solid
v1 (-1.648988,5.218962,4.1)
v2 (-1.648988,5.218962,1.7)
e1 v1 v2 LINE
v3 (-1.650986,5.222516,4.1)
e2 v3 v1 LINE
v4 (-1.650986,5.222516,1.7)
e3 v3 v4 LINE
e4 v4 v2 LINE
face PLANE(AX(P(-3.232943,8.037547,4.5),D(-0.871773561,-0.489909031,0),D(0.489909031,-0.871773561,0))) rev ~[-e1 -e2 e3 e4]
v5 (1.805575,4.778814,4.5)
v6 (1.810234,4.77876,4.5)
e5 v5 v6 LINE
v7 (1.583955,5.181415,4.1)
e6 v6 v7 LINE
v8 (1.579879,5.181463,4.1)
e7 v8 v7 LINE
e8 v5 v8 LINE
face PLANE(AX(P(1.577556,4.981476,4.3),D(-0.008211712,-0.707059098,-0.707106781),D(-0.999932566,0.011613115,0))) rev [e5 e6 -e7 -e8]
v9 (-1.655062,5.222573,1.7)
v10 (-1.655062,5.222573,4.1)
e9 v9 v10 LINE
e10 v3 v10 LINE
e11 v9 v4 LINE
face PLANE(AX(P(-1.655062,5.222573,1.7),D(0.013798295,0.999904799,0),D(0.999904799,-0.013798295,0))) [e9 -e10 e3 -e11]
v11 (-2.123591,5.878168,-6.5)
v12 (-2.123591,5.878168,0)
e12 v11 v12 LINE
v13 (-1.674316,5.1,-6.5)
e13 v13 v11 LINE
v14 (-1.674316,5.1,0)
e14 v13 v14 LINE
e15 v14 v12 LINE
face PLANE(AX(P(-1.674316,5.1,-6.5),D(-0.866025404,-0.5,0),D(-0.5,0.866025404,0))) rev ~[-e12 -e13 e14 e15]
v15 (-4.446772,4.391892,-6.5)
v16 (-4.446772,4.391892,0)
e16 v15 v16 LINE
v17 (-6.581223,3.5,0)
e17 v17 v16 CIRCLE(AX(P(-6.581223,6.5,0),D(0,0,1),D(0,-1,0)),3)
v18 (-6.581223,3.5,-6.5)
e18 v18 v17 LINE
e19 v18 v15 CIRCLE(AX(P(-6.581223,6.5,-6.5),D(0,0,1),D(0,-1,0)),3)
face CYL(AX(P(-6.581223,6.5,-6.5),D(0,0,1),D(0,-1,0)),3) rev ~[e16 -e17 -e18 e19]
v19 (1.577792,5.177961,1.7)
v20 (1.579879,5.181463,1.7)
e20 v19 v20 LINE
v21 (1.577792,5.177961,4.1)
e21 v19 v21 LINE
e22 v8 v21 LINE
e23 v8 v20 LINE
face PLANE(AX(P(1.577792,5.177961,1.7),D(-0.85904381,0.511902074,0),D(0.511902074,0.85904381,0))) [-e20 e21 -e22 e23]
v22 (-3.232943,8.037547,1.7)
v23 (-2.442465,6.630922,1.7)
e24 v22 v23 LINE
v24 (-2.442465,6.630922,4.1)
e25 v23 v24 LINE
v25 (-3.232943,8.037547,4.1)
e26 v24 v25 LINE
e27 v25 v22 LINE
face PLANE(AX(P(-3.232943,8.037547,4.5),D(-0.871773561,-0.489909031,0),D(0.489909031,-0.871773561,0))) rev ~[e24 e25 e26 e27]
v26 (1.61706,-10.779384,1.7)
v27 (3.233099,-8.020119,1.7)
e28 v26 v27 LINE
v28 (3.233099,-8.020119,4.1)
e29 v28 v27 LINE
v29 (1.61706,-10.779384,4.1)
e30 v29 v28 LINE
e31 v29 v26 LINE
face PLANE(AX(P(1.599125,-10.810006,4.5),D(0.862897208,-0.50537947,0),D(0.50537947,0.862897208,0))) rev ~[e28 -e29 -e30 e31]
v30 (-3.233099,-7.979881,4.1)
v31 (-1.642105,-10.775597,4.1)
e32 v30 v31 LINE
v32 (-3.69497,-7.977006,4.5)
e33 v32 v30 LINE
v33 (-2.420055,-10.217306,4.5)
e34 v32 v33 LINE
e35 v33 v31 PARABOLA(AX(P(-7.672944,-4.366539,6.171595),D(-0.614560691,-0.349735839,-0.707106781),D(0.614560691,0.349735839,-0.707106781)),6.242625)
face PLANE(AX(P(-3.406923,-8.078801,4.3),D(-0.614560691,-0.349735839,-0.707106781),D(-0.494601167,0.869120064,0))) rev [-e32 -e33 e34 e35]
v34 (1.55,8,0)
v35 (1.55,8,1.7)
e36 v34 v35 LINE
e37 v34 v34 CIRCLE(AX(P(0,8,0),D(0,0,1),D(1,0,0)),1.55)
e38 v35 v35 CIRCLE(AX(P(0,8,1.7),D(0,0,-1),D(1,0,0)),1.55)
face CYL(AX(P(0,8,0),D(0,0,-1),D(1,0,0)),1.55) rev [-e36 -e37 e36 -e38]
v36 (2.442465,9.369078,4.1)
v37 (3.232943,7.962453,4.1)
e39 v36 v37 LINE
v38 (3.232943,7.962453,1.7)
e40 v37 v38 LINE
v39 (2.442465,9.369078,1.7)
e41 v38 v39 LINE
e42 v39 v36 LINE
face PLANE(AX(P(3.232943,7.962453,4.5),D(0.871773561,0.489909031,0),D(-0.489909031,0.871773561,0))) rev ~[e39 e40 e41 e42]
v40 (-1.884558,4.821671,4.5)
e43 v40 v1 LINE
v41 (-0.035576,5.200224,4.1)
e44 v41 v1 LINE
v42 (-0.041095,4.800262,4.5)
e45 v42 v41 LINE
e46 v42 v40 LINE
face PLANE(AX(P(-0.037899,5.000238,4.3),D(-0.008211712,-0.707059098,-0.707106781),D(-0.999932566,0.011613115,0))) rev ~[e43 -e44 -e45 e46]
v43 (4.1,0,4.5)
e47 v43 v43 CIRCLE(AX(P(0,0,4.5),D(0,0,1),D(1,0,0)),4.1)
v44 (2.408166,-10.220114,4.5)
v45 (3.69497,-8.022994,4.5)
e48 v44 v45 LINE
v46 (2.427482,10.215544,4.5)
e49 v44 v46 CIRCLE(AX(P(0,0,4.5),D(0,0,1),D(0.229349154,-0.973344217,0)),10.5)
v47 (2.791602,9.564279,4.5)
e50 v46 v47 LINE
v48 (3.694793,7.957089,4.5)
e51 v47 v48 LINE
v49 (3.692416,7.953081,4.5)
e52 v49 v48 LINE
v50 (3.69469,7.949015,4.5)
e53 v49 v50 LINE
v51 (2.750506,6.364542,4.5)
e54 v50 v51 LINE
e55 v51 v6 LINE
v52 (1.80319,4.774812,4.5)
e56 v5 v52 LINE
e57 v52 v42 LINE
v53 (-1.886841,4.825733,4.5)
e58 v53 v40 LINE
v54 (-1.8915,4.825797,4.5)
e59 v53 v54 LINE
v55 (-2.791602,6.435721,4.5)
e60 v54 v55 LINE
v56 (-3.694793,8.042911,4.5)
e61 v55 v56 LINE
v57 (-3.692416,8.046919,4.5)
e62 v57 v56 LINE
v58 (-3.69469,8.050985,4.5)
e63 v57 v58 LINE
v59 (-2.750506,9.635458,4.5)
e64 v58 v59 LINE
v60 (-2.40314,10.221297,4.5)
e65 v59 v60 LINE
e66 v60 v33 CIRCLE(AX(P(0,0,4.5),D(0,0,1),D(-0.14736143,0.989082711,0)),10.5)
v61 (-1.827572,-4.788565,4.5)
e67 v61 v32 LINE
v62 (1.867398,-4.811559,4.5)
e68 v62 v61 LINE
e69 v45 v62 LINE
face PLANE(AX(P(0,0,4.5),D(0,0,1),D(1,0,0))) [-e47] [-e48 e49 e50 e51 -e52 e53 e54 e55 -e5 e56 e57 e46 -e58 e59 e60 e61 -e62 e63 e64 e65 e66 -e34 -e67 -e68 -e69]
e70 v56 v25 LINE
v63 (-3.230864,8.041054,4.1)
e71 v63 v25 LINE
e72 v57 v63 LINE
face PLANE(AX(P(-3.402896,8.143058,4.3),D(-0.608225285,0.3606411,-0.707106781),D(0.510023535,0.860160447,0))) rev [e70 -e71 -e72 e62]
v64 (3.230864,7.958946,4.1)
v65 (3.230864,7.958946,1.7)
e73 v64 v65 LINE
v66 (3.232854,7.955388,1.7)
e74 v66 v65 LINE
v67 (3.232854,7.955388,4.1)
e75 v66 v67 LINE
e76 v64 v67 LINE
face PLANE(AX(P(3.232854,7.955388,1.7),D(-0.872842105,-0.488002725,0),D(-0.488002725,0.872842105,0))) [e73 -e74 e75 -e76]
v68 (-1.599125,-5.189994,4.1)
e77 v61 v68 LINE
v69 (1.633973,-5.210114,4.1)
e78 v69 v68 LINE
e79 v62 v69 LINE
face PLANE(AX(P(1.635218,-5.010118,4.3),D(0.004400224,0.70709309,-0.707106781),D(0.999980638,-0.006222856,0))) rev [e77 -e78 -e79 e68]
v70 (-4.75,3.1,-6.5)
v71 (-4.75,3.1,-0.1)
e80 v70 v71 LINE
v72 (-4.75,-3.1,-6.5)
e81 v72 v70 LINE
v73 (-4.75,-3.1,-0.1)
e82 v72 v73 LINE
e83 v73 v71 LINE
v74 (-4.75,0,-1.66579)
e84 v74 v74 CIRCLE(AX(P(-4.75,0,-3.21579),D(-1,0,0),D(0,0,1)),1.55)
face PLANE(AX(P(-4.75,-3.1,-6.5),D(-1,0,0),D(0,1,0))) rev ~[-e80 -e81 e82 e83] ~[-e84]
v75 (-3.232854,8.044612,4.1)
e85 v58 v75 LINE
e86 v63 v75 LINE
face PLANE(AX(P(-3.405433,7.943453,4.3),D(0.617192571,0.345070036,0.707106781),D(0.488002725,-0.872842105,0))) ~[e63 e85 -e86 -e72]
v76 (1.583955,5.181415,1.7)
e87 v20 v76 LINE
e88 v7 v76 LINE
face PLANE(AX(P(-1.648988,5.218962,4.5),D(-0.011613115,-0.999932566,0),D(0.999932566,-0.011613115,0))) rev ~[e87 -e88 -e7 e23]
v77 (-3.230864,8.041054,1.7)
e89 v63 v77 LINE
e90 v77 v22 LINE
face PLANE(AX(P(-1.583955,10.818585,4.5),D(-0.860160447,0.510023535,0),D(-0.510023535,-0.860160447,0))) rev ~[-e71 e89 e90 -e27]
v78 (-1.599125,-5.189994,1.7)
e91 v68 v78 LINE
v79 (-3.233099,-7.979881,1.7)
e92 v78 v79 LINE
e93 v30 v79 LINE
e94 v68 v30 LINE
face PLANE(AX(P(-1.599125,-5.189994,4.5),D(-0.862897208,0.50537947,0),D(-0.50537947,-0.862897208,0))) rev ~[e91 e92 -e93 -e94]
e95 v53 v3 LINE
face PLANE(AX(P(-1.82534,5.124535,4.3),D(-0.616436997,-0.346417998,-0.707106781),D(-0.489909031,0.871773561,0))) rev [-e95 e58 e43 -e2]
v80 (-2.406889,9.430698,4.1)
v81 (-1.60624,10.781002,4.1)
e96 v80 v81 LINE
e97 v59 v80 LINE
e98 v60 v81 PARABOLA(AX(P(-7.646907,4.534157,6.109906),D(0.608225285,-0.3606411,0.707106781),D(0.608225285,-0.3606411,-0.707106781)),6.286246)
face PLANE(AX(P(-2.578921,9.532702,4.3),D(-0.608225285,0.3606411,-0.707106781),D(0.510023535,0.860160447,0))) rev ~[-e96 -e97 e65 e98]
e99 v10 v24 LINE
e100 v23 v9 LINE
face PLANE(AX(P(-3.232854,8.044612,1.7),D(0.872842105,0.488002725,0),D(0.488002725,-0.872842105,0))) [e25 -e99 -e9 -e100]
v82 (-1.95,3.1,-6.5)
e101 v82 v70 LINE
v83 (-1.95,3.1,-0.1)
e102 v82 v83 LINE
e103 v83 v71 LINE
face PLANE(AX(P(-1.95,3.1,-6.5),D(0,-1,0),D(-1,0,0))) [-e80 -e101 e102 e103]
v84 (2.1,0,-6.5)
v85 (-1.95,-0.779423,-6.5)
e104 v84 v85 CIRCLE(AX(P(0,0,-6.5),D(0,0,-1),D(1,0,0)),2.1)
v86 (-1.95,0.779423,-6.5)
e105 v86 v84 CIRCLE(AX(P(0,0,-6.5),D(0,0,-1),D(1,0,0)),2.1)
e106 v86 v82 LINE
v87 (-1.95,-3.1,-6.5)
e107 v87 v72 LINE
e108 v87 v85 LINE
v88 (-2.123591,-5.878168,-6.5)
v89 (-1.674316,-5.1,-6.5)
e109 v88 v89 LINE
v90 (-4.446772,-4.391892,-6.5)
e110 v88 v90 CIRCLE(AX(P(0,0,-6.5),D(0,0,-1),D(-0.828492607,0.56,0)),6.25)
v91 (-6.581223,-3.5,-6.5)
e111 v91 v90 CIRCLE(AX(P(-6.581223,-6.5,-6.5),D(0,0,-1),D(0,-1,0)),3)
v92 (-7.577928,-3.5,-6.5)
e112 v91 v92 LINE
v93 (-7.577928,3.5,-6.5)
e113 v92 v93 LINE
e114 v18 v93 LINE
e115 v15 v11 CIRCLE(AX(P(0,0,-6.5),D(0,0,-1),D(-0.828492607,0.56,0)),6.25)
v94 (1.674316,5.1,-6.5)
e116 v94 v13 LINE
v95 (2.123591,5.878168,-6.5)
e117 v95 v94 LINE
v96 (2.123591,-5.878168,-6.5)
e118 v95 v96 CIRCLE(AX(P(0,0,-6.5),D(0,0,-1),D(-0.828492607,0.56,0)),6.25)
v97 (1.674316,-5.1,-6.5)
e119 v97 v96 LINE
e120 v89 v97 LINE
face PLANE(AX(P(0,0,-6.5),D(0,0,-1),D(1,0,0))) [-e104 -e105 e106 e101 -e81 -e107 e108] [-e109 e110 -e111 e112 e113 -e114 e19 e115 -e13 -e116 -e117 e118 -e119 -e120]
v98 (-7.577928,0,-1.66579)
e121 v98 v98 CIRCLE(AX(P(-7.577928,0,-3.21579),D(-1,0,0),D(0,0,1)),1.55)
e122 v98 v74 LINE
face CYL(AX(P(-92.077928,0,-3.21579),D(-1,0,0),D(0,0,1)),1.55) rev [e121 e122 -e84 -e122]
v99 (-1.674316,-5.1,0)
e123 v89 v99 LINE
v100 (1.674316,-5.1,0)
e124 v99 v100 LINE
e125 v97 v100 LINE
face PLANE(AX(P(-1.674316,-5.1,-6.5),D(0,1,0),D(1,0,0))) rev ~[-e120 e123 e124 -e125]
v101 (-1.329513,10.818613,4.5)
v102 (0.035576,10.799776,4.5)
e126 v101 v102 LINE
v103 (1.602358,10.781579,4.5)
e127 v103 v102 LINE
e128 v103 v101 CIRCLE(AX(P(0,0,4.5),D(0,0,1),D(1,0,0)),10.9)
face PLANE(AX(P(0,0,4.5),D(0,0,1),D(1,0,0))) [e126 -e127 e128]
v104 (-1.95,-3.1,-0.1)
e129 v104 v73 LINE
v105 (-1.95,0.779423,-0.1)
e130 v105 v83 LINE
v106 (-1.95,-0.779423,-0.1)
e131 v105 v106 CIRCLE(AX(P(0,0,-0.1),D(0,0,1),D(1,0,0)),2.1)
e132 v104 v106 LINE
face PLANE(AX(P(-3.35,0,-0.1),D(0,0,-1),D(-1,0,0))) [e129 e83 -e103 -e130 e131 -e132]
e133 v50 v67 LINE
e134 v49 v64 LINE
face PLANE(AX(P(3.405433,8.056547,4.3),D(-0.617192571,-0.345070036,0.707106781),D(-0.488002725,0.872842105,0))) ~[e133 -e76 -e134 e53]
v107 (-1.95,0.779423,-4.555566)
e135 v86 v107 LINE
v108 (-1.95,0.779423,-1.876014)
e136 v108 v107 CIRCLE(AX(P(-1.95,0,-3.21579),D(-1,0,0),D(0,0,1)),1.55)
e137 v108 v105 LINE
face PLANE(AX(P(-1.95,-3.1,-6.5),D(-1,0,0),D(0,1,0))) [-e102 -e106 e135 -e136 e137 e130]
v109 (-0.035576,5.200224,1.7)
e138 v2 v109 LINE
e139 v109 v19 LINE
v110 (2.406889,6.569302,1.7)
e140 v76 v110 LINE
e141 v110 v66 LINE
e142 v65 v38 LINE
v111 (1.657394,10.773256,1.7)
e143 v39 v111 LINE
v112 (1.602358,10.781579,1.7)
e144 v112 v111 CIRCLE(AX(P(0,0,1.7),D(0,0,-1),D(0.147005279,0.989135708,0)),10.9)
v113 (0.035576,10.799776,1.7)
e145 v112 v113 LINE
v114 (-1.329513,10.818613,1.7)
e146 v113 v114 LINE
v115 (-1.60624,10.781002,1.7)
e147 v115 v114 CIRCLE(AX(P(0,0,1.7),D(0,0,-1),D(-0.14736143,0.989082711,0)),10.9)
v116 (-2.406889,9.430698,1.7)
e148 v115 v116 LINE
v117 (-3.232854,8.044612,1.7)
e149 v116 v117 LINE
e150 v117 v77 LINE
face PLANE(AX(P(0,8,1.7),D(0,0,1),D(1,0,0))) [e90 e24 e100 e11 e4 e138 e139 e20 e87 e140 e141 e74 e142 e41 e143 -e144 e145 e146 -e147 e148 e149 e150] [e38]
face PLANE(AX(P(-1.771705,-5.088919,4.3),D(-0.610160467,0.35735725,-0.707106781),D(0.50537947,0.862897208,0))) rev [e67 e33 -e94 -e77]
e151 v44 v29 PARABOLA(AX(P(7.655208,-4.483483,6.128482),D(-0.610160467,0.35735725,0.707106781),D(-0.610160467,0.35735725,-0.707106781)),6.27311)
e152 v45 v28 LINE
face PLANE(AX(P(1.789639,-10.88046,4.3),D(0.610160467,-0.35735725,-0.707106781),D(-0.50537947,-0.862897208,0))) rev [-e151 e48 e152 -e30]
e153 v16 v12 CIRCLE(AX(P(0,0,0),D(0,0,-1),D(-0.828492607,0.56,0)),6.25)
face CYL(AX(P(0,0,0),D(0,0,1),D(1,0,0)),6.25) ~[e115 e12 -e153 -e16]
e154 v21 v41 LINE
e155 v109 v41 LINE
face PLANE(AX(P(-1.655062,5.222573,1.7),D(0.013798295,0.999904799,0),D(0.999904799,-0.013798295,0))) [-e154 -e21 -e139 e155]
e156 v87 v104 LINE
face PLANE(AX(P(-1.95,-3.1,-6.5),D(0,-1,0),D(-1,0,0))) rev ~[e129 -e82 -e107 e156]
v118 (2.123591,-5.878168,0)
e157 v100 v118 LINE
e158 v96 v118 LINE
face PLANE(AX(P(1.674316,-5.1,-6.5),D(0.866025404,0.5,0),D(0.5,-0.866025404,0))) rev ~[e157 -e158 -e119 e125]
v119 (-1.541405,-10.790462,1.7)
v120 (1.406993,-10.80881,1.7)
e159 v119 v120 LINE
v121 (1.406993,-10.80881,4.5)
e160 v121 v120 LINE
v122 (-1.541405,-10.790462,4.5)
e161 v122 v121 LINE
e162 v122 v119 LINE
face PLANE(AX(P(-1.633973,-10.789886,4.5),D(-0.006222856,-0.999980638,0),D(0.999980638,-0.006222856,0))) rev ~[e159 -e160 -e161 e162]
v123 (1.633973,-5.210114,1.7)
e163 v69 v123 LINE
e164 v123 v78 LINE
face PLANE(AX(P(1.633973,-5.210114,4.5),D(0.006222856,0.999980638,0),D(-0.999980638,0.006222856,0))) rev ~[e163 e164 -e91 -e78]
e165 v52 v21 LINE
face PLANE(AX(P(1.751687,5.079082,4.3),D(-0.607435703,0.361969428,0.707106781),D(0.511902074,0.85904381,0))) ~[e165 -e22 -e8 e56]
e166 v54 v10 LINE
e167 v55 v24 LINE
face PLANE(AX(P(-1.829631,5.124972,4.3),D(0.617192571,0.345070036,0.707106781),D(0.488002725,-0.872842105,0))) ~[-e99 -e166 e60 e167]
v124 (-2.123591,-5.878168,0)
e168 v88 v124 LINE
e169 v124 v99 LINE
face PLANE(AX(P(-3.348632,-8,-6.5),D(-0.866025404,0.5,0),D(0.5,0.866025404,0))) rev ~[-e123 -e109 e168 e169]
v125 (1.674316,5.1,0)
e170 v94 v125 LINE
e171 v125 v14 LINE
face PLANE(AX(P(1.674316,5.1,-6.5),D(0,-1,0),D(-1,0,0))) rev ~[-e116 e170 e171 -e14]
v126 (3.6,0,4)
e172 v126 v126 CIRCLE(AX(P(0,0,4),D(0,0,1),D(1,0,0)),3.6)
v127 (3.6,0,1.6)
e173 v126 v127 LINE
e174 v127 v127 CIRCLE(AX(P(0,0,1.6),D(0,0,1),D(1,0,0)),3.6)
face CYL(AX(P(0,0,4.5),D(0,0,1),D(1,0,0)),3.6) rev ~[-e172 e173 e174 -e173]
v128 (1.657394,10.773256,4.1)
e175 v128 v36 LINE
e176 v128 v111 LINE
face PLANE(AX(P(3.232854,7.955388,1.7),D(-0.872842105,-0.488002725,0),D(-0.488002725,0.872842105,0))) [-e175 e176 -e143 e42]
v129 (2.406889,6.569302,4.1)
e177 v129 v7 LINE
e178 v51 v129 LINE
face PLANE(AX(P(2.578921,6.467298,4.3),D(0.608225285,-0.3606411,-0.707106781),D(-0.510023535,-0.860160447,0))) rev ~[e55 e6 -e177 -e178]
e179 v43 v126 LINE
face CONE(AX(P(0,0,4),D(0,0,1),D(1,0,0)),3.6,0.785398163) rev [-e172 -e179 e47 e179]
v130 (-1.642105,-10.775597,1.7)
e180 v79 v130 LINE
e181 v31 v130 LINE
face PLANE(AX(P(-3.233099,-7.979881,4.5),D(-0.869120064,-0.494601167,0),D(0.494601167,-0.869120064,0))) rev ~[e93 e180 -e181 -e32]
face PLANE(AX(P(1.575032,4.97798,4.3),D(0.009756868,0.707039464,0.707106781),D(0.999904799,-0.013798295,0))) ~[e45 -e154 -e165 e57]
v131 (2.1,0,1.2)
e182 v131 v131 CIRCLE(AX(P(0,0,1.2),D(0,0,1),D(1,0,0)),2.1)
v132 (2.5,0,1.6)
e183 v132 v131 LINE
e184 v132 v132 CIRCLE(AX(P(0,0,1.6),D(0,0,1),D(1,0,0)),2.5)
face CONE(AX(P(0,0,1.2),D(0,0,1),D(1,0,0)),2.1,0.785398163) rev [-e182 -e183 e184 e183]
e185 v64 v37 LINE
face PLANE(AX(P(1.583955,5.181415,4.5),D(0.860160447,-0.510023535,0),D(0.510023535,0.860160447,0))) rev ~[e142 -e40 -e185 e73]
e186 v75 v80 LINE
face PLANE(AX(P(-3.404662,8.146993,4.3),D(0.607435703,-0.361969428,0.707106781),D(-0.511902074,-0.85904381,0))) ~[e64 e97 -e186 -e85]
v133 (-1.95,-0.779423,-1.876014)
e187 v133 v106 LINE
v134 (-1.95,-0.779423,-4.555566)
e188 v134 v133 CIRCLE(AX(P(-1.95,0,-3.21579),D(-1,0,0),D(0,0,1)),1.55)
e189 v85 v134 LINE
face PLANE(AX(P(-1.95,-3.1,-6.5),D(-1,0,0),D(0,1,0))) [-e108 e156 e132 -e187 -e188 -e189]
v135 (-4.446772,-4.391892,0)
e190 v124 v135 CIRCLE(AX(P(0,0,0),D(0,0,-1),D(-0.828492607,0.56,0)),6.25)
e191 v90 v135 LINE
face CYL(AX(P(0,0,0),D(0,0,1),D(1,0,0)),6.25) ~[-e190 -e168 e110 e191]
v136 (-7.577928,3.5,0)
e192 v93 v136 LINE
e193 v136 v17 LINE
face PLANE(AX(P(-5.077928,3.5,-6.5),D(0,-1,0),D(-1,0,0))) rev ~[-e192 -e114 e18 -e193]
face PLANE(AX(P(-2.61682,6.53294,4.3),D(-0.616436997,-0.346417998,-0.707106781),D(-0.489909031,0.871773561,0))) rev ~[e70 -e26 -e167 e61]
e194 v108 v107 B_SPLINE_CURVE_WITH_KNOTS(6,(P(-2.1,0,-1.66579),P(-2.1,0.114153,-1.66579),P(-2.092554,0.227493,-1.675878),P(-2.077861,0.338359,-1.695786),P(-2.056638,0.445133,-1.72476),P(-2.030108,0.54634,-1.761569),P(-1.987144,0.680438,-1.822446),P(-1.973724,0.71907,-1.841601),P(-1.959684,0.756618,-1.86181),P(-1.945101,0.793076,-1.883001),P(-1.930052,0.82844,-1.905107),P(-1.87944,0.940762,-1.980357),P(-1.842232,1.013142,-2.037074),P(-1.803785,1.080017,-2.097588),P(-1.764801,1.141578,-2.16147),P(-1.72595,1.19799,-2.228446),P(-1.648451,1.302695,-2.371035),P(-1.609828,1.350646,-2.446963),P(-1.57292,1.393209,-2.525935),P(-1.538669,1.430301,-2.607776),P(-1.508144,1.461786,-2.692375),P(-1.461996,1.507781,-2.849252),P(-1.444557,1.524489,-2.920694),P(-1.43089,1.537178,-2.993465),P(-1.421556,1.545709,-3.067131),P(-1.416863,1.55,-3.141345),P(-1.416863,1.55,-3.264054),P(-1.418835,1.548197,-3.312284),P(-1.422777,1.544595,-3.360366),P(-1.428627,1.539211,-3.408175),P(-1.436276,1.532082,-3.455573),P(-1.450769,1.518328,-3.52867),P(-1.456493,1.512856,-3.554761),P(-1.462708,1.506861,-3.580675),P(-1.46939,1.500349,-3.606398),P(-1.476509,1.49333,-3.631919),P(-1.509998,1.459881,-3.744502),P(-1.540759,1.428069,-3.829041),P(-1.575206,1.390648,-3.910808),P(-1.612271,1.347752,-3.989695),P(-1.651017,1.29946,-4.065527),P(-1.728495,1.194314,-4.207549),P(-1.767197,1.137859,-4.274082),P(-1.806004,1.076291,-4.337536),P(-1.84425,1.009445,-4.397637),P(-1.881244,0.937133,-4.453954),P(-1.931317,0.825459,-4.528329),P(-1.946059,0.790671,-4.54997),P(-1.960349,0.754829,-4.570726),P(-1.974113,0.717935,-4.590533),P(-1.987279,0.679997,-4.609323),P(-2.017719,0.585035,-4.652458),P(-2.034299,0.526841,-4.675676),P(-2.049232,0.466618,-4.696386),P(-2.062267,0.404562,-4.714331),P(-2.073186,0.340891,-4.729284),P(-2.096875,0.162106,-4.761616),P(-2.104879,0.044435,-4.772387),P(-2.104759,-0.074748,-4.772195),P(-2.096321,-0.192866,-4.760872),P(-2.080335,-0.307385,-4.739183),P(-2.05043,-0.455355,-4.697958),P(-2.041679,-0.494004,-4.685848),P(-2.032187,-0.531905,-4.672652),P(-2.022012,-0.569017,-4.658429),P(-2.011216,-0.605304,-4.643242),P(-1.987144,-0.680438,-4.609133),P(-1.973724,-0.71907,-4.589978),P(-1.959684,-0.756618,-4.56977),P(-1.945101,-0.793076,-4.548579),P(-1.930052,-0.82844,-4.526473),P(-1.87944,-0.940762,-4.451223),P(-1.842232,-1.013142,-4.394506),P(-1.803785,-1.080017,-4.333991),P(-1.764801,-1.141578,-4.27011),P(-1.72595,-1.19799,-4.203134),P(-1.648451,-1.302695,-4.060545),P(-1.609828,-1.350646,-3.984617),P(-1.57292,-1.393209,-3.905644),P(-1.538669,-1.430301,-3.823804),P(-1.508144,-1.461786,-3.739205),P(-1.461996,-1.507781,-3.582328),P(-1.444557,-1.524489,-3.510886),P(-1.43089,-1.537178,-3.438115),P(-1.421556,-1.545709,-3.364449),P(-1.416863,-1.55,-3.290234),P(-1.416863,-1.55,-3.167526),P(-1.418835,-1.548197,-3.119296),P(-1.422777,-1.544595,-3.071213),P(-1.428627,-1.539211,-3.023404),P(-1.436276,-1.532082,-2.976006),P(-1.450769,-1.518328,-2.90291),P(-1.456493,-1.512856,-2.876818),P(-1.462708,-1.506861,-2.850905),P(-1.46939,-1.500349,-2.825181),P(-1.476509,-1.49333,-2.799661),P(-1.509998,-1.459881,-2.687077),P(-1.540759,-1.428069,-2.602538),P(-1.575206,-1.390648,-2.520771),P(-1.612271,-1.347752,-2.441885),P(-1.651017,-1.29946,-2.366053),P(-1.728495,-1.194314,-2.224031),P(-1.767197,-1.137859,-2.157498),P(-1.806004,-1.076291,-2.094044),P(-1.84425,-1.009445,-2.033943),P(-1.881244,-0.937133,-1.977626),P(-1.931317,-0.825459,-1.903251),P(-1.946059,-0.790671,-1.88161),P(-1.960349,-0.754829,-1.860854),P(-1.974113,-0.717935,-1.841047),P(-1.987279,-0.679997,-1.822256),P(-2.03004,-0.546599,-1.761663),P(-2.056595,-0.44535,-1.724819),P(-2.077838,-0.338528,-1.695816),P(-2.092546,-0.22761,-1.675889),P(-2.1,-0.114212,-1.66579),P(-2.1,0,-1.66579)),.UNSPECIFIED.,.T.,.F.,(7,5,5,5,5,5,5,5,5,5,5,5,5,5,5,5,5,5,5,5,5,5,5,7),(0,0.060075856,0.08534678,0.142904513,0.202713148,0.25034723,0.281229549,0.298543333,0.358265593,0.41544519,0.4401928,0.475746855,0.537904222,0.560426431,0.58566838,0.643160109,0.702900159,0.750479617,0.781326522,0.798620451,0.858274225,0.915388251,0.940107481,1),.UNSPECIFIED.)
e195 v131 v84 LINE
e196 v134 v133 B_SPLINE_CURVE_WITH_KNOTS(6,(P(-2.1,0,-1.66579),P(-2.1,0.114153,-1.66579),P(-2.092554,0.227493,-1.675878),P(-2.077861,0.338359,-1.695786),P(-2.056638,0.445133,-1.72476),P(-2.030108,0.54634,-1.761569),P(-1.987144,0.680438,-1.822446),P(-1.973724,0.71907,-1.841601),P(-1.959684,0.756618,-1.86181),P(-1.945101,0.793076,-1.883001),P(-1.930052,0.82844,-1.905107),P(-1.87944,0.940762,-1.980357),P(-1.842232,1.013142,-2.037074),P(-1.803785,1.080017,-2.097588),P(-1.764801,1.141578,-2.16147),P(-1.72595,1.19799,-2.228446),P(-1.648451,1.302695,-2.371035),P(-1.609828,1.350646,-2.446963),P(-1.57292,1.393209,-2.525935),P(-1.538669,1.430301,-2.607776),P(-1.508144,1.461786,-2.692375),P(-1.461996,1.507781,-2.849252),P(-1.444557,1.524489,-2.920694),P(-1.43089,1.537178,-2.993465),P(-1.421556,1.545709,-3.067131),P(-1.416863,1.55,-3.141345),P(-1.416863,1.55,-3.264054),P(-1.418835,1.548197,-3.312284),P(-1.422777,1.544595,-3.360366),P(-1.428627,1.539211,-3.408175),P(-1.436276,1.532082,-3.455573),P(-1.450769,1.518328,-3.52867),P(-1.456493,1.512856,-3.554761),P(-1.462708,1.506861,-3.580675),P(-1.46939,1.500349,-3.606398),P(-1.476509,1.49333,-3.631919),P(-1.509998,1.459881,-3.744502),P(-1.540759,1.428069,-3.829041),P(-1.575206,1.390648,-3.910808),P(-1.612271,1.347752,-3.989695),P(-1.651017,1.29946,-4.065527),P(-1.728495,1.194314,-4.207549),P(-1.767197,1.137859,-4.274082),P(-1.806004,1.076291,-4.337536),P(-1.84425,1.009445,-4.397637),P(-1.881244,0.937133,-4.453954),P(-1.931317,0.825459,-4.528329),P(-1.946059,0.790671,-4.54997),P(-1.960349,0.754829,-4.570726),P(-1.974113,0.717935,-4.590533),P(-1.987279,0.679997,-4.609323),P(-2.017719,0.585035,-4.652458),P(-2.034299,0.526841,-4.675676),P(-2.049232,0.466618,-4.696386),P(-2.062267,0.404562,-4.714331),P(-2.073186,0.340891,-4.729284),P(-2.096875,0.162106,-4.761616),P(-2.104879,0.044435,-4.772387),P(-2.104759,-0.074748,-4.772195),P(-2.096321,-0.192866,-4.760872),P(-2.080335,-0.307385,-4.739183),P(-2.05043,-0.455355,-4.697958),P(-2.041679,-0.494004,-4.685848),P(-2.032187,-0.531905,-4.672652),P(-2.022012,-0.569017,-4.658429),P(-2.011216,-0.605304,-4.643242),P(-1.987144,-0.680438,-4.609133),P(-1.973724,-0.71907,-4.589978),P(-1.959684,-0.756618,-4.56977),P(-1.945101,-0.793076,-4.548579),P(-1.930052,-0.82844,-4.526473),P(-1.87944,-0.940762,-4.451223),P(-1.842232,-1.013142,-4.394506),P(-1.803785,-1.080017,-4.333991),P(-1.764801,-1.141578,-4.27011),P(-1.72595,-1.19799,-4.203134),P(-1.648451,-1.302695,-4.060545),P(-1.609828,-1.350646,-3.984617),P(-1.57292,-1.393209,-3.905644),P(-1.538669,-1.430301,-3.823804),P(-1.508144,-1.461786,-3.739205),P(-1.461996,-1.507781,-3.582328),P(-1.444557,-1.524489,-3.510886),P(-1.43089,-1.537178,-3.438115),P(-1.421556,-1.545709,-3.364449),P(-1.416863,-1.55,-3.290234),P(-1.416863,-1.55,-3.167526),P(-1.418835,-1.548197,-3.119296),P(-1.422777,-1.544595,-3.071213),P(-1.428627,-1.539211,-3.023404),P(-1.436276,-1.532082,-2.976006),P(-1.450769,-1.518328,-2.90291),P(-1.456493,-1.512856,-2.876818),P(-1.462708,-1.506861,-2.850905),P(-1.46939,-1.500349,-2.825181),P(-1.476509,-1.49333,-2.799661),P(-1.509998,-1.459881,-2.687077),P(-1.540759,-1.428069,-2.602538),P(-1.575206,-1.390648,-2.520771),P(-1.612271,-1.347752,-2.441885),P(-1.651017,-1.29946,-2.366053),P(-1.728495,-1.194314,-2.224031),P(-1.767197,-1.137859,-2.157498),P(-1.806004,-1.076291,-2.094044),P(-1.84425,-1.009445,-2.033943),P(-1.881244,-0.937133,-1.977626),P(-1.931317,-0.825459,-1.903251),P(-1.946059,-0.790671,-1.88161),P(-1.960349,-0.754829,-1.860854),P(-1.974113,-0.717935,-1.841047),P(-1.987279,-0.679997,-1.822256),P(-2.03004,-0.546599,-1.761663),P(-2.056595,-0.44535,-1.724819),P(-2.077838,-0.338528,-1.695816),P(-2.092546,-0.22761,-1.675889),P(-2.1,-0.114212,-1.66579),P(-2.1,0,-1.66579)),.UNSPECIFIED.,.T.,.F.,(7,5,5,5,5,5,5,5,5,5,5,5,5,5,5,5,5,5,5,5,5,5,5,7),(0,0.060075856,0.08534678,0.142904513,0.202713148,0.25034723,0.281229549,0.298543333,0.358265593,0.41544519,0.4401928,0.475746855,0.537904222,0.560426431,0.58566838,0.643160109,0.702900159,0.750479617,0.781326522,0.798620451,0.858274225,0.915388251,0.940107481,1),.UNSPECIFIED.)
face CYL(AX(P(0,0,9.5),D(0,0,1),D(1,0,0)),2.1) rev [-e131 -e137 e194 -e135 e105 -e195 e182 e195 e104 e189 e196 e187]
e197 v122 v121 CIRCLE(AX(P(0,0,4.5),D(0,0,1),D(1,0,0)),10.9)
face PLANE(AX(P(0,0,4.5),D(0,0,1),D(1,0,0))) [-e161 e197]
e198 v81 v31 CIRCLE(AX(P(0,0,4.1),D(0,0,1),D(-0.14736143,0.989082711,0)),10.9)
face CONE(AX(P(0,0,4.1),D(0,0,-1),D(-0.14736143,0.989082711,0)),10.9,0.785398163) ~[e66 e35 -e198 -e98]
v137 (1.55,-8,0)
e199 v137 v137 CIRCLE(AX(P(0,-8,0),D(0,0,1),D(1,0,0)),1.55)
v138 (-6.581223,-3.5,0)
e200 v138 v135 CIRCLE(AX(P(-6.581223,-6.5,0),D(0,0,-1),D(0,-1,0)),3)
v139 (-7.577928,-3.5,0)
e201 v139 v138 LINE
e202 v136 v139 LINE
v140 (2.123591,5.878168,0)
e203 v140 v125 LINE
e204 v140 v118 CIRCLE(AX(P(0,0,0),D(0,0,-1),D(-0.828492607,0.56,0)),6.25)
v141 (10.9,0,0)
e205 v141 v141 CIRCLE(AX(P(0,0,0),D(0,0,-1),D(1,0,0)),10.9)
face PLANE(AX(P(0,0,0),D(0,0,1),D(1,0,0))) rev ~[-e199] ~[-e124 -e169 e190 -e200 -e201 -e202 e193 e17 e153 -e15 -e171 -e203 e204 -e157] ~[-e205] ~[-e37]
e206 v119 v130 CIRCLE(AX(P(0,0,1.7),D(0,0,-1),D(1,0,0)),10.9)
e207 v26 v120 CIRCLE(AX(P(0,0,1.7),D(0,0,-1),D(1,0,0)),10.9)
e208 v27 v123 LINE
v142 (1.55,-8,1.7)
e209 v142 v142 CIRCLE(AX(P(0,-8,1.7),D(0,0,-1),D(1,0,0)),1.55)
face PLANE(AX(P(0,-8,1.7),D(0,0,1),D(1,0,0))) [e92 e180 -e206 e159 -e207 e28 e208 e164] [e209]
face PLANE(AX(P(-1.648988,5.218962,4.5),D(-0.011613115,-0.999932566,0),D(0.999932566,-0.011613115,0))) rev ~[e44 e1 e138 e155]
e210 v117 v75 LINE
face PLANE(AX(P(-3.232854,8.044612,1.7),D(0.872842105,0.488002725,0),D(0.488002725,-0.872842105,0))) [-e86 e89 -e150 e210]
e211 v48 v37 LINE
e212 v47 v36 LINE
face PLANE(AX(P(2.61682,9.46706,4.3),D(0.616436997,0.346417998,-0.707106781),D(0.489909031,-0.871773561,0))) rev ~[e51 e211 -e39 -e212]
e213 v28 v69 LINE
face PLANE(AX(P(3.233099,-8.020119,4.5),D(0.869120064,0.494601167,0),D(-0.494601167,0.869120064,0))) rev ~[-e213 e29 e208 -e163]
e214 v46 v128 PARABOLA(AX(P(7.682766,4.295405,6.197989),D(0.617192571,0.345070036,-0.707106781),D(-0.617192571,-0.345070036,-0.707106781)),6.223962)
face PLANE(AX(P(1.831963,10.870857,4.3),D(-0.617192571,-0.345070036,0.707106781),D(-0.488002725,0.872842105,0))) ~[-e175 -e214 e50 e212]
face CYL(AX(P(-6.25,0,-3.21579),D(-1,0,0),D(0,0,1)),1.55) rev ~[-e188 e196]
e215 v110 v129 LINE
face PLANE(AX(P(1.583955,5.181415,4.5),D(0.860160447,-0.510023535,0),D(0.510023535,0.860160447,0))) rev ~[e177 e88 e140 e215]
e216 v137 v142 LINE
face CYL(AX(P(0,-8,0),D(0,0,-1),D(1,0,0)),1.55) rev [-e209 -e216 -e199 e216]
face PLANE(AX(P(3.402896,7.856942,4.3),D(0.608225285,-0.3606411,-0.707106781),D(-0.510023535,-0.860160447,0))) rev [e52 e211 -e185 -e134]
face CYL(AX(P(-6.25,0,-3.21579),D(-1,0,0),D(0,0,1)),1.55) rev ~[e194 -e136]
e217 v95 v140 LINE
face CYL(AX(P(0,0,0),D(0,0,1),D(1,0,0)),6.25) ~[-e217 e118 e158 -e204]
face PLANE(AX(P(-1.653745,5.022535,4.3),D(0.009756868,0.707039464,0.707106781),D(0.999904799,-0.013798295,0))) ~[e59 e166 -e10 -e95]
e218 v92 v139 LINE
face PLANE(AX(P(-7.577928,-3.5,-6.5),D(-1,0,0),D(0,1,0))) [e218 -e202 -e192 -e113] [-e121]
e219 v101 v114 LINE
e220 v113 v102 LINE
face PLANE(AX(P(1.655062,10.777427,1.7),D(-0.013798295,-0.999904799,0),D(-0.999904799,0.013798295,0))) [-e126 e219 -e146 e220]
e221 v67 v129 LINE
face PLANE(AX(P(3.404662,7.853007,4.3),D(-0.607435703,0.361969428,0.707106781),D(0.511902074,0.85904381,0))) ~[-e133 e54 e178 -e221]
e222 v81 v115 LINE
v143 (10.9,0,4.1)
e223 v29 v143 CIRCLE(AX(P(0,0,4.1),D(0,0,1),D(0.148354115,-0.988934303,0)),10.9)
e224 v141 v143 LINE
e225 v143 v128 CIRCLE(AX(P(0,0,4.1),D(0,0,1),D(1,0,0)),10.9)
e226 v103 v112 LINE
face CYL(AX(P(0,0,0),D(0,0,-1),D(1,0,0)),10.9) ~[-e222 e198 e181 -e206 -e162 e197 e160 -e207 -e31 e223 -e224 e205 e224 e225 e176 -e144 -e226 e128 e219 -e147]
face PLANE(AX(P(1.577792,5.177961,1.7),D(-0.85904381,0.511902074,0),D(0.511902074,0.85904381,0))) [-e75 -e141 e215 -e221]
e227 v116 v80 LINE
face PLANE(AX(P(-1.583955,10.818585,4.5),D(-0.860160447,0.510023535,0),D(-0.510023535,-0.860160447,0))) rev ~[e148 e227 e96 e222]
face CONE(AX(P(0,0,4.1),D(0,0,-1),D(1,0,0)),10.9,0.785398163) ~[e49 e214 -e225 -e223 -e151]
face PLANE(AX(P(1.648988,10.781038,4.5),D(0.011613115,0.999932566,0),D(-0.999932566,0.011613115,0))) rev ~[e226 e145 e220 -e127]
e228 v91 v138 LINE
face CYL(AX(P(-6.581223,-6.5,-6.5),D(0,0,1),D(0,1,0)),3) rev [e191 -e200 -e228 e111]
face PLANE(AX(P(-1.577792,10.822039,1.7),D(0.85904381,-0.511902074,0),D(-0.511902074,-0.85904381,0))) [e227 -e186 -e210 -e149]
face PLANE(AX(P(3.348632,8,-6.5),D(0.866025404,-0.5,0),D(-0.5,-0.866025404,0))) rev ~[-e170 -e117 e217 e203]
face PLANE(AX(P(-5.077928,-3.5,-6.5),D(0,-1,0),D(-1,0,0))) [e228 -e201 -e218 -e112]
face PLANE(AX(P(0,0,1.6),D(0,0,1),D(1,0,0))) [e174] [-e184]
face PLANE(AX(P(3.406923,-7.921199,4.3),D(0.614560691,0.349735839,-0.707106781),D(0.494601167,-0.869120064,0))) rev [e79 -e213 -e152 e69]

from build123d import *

# Parameters (mm, degrees)
SKETCH2_R           = 10.9
SKETCH2_R_2         = 1.55
BOSS_EXTRUDE1_DEPTH = 4.5
SKETCH3_R           = 6.25
SKETCH3_R_2         = 2.1
BOSS_EXTRUDE2_DEPTH = 6.5
CUT_EXTRUDE2_START  = -9.5
SKETCH6_R           = 2.1
CUT_EXTRUDE2_DEPTH  = 9.5
SKETCH7_R           = 3.6
CUT_EXTRUDE3_DEPTH  = 2.9
CUT_EXTRUDE4_DEPTH  = 2.8
CHAMFER2_SIZE       = 0.5
SKETCH11_R          = 1.55
CUT_EXTRUDE5_DEPTH  = 5.5
SKETCH14_W          = 2.8
SKETCH14_H          = 6.2
CUT_EXTRUDE6_DEPTH  = 6.4
CUT_EXTRUDE8_DEPTH  = 6.2
CHAMFER3_SIZE       = 0.4
CHAMFER4_SIZE       = 0.4
SKETCH19_W          = 2.5
SKETCH19_H          = 7
BOSS_EXTRUDE4_DEPTH = 10
FILLET5_R           = 3
CUT_EXTRUDE9_DEPTH  = 6.5
CUT_EXTRUDE10_START = -87
SKETCH21_R          = 1.55
CUT_EXTRUDE10_DEPTH = 87


with BuildPart() as part:
    # Sketch2 → Boss-Extrude1 (new body)
    with BuildSketch(Plane.XY):
        Circle(SKETCH2_R)
        with Locations((0, 8)):
            Circle(SKETCH2_R_2, mode=Mode.SUBTRACT)
        with Locations((0, -8)):
            Circle(SKETCH2_R_2, mode=Mode.SUBTRACT)
    extrude(amount=BOSS_EXTRUDE1_DEPTH)

    # Sketch3 → Boss-Extrude2 (add)
    with BuildSketch(Plane(origin=(0, 0, 0), x_dir=(-1, 0, 0), z_dir=(0, 0, -1))):
        with Locations(Location((0, 0, 0), (0, 0, 180))):
            Circle(SKETCH3_R)
        with Locations(Location((0, 0, 0), (0, 0, 180))):
            Circle(SKETCH3_R_2, mode=Mode.SUBTRACT)
    extrude(amount=BOSS_EXTRUDE2_DEPTH)

    # Sketch6 → Cut-Extrude2 (cut)
    with BuildSketch(Plane(origin=(0, 0, 0), x_dir=(-1, 0, 0), z_dir=(0, 0, -1)).offset(CUT_EXTRUDE2_START)):
        with Locations(Location((0, 0, 0), (0, 0, 180))):
            Circle(SKETCH6_R)
    extrude(amount=CUT_EXTRUDE2_DEPTH, mode=Mode.SUBTRACT)

    # Sketch7 → Cut-Extrude3 (cut)
    with BuildSketch(Plane.XY.offset(4.5)):
        Circle(SKETCH7_R)
    extrude(amount=-CUT_EXTRUDE3_DEPTH, mode=Mode.SUBTRACT)

    # Sketch8 → Cut-Extrude4 (cut)
    with BuildSketch(Plane.XY.offset(4.5)):
        Polygon((1.58395502, 5.181415279), (3.232943481, 7.962452926), (1.64898846, 10.781037646), (-1.58395502, 10.818584721), (-3.232943481, 8.037547074), (-1.64898846, 5.218962354), align=None)
        Polygon((3.233098906, -8.020119499), (1.633973451, -5.210113964), (-1.599125456, -5.189994464), (-3.233098906, -7.979880501), (-1.633973451, -10.789886036), (1.599125456, -10.810005536), align=None)
    extrude(amount=-CUT_EXTRUDE4_DEPTH, mode=Mode.SUBTRACT)

    # Chamfer2
    chamfer2_edges = [part.edges().sort_by_distance(p)[0] for p in [
        (-3.6, 0, 4.5),
    ]]
    chamfer(chamfer2_edges, length=CHAMFER2_SIZE)

    # Sketch11 → Cut-Extrude5 (cut, symmetric)
    with BuildSketch(Plane(origin=(-6.25, 0, 0), x_dir=(0, 1, 0), z_dir=(-1, 0, 0))):
        with Locations(Location((0, 3.215789821, 0), (0, 0, 270))):
            Circle(SKETCH11_R)
    extrude(amount=CUT_EXTRUDE5_DEPTH, both=True, mode=Mode.SUBTRACT)

    # Sketch14 → Cut-Extrude6 (cut)
    with BuildSketch(Plane(origin=(0, 0, -6.5), x_dir=(-1, 0, 0), z_dir=(0, 0, -1))):
        with Locations((3.35, 0)):
            Rectangle(SKETCH14_W, SKETCH14_H)
    extrude(amount=-CUT_EXTRUDE6_DEPTH, mode=Mode.SUBTRACT)

    # Sketch17 → Cut-Extrude8 (cut)
    with BuildSketch(Plane.XY.offset(1.7)):
        Polygon((1.655062081, 10.777427379), (-1.577791627, 10.822039496), (-3.232853707, 8.044612117), (-1.655062081, 5.222572621), (1.577791627, 5.177960504), (3.232853707, 7.955387883), align=None)
    extrude(amount=CUT_EXTRUDE8_DEPTH, mode=Mode.SUBTRACT)

    # Chamfer3
    chamfer3_edges = [part.edges().sort_by_distance(p)[0] for p in [
        (3.231903858, 7.96069959, 4.5),
        (-1.649987082, 5.220739361, 4.5),
        (1.581916776, 5.181438951, 4.5),
        (-3.231903858, 8.03930041, 4.5),
        (-3.231858971, 8.042832931, 4.5),
        (0.771107805, 5.189092426, 4.5),
        (2.049929575, 10.07116703, 4.5),
        (1.578835079, 5.179711564, 4.5),
        (3.231858971, 7.957167069, 4.5),
        (-2.81987127, 8.737654839, 4.5),
        (-2.048763464, 5.926747264, 4.5),
        (-1.653023892, 5.222544495, 4.5),
        (2.81987127, 7.262345161, 4.5),
        (-10.899984913, 0.01813521, 4.5),
        (8.259417425, -7.112807026, 4.5),
        (2.837704165, 8.665765509, 4.5),
        (-2.006564209, 10.105849554, 4.5),
        (-2.837704165, 7.334234491, 4.5),
        (-0.842282238, 5.20959335, 4.5),
        (1.995421926, 5.87535886, 4.5),
        (-2.437601998, -9.377738754, 4.5),
        (2.42507938, -9.399751703, 4.5),
        (2.433536179, -6.615116731, 4.5),
        (0.017423997, -5.200054214, 4.5),
        (-2.416112181, -6.584937483, 4.5),
    ]]
    chamfer(chamfer3_edges, length=CHAMFER3_SIZE)

    # Chamfer4
    chamfer4_edges = [part.edges().sort_by_distance(p)[0] for p in [
        (-2.1, 0, 1.6),
    ]]
    chamfer(chamfer4_edges, length=CHAMFER4_SIZE)

    # Sketch19 → Boss-Extrude4 (add)
    with BuildSketch(Plane(origin=(0, 0, -6.5), x_dir=(-1, 0, 0), z_dir=(0, 0, -1))):
        with Locations((6.327927724, 0)):
            Rectangle(SKETCH19_W, SKETCH19_H)
    extrude(amount=-BOSS_EXTRUDE4_DEPTH)

    # Fillet5
    fillet5_edges = [part.edges().sort_by_distance(p)[0] for p in [
        (-5.178078794, -3.5, -3.25),
        (-5.178078794, 3.5, -3.25),
    ]]
    fillet(fillet5_edges, radius=FILLET5_R)

    # Sketch20 → Cut-Extrude9 (cut)
    with BuildSketch(Plane(origin=(0, 0, -6.5), x_dir=(-1, 0, 0), z_dir=(0, 0, -1))):
        Polygon((1.674315781, 10.9), (-1.674315781, 10.9), (-3.348631561, 8), (-1.674315781, 5.1), (1.674315781, 5.1), (3.348631561, 8), align=None)
        Polygon((1.674315781, -5.1), (-1.674315781, -5.1), (-3.348631561, -8), (-1.674315781, -10.9), (1.674315781, -10.9), (3.348631561, -8), align=None)
    extrude(amount=-CUT_EXTRUDE9_DEPTH, mode=Mode.SUBTRACT)

    # Sketch21 → Cut-Extrude10 (cut)
    with BuildSketch(Plane(origin=(-5.077927724, 0, 0), x_dir=(0, 0, -1), z_dir=(1, 0, 0)).offset(CUT_EXTRUDE10_START)):
        with Locations(Location((3.215789821, 0, 0), (0, 0, 180))):
            Circle(SKETCH21_R)
    extrude(amount=CUT_EXTRUDE10_DEPTH, mode=Mode.SUBTRACT)


solid = part.part
